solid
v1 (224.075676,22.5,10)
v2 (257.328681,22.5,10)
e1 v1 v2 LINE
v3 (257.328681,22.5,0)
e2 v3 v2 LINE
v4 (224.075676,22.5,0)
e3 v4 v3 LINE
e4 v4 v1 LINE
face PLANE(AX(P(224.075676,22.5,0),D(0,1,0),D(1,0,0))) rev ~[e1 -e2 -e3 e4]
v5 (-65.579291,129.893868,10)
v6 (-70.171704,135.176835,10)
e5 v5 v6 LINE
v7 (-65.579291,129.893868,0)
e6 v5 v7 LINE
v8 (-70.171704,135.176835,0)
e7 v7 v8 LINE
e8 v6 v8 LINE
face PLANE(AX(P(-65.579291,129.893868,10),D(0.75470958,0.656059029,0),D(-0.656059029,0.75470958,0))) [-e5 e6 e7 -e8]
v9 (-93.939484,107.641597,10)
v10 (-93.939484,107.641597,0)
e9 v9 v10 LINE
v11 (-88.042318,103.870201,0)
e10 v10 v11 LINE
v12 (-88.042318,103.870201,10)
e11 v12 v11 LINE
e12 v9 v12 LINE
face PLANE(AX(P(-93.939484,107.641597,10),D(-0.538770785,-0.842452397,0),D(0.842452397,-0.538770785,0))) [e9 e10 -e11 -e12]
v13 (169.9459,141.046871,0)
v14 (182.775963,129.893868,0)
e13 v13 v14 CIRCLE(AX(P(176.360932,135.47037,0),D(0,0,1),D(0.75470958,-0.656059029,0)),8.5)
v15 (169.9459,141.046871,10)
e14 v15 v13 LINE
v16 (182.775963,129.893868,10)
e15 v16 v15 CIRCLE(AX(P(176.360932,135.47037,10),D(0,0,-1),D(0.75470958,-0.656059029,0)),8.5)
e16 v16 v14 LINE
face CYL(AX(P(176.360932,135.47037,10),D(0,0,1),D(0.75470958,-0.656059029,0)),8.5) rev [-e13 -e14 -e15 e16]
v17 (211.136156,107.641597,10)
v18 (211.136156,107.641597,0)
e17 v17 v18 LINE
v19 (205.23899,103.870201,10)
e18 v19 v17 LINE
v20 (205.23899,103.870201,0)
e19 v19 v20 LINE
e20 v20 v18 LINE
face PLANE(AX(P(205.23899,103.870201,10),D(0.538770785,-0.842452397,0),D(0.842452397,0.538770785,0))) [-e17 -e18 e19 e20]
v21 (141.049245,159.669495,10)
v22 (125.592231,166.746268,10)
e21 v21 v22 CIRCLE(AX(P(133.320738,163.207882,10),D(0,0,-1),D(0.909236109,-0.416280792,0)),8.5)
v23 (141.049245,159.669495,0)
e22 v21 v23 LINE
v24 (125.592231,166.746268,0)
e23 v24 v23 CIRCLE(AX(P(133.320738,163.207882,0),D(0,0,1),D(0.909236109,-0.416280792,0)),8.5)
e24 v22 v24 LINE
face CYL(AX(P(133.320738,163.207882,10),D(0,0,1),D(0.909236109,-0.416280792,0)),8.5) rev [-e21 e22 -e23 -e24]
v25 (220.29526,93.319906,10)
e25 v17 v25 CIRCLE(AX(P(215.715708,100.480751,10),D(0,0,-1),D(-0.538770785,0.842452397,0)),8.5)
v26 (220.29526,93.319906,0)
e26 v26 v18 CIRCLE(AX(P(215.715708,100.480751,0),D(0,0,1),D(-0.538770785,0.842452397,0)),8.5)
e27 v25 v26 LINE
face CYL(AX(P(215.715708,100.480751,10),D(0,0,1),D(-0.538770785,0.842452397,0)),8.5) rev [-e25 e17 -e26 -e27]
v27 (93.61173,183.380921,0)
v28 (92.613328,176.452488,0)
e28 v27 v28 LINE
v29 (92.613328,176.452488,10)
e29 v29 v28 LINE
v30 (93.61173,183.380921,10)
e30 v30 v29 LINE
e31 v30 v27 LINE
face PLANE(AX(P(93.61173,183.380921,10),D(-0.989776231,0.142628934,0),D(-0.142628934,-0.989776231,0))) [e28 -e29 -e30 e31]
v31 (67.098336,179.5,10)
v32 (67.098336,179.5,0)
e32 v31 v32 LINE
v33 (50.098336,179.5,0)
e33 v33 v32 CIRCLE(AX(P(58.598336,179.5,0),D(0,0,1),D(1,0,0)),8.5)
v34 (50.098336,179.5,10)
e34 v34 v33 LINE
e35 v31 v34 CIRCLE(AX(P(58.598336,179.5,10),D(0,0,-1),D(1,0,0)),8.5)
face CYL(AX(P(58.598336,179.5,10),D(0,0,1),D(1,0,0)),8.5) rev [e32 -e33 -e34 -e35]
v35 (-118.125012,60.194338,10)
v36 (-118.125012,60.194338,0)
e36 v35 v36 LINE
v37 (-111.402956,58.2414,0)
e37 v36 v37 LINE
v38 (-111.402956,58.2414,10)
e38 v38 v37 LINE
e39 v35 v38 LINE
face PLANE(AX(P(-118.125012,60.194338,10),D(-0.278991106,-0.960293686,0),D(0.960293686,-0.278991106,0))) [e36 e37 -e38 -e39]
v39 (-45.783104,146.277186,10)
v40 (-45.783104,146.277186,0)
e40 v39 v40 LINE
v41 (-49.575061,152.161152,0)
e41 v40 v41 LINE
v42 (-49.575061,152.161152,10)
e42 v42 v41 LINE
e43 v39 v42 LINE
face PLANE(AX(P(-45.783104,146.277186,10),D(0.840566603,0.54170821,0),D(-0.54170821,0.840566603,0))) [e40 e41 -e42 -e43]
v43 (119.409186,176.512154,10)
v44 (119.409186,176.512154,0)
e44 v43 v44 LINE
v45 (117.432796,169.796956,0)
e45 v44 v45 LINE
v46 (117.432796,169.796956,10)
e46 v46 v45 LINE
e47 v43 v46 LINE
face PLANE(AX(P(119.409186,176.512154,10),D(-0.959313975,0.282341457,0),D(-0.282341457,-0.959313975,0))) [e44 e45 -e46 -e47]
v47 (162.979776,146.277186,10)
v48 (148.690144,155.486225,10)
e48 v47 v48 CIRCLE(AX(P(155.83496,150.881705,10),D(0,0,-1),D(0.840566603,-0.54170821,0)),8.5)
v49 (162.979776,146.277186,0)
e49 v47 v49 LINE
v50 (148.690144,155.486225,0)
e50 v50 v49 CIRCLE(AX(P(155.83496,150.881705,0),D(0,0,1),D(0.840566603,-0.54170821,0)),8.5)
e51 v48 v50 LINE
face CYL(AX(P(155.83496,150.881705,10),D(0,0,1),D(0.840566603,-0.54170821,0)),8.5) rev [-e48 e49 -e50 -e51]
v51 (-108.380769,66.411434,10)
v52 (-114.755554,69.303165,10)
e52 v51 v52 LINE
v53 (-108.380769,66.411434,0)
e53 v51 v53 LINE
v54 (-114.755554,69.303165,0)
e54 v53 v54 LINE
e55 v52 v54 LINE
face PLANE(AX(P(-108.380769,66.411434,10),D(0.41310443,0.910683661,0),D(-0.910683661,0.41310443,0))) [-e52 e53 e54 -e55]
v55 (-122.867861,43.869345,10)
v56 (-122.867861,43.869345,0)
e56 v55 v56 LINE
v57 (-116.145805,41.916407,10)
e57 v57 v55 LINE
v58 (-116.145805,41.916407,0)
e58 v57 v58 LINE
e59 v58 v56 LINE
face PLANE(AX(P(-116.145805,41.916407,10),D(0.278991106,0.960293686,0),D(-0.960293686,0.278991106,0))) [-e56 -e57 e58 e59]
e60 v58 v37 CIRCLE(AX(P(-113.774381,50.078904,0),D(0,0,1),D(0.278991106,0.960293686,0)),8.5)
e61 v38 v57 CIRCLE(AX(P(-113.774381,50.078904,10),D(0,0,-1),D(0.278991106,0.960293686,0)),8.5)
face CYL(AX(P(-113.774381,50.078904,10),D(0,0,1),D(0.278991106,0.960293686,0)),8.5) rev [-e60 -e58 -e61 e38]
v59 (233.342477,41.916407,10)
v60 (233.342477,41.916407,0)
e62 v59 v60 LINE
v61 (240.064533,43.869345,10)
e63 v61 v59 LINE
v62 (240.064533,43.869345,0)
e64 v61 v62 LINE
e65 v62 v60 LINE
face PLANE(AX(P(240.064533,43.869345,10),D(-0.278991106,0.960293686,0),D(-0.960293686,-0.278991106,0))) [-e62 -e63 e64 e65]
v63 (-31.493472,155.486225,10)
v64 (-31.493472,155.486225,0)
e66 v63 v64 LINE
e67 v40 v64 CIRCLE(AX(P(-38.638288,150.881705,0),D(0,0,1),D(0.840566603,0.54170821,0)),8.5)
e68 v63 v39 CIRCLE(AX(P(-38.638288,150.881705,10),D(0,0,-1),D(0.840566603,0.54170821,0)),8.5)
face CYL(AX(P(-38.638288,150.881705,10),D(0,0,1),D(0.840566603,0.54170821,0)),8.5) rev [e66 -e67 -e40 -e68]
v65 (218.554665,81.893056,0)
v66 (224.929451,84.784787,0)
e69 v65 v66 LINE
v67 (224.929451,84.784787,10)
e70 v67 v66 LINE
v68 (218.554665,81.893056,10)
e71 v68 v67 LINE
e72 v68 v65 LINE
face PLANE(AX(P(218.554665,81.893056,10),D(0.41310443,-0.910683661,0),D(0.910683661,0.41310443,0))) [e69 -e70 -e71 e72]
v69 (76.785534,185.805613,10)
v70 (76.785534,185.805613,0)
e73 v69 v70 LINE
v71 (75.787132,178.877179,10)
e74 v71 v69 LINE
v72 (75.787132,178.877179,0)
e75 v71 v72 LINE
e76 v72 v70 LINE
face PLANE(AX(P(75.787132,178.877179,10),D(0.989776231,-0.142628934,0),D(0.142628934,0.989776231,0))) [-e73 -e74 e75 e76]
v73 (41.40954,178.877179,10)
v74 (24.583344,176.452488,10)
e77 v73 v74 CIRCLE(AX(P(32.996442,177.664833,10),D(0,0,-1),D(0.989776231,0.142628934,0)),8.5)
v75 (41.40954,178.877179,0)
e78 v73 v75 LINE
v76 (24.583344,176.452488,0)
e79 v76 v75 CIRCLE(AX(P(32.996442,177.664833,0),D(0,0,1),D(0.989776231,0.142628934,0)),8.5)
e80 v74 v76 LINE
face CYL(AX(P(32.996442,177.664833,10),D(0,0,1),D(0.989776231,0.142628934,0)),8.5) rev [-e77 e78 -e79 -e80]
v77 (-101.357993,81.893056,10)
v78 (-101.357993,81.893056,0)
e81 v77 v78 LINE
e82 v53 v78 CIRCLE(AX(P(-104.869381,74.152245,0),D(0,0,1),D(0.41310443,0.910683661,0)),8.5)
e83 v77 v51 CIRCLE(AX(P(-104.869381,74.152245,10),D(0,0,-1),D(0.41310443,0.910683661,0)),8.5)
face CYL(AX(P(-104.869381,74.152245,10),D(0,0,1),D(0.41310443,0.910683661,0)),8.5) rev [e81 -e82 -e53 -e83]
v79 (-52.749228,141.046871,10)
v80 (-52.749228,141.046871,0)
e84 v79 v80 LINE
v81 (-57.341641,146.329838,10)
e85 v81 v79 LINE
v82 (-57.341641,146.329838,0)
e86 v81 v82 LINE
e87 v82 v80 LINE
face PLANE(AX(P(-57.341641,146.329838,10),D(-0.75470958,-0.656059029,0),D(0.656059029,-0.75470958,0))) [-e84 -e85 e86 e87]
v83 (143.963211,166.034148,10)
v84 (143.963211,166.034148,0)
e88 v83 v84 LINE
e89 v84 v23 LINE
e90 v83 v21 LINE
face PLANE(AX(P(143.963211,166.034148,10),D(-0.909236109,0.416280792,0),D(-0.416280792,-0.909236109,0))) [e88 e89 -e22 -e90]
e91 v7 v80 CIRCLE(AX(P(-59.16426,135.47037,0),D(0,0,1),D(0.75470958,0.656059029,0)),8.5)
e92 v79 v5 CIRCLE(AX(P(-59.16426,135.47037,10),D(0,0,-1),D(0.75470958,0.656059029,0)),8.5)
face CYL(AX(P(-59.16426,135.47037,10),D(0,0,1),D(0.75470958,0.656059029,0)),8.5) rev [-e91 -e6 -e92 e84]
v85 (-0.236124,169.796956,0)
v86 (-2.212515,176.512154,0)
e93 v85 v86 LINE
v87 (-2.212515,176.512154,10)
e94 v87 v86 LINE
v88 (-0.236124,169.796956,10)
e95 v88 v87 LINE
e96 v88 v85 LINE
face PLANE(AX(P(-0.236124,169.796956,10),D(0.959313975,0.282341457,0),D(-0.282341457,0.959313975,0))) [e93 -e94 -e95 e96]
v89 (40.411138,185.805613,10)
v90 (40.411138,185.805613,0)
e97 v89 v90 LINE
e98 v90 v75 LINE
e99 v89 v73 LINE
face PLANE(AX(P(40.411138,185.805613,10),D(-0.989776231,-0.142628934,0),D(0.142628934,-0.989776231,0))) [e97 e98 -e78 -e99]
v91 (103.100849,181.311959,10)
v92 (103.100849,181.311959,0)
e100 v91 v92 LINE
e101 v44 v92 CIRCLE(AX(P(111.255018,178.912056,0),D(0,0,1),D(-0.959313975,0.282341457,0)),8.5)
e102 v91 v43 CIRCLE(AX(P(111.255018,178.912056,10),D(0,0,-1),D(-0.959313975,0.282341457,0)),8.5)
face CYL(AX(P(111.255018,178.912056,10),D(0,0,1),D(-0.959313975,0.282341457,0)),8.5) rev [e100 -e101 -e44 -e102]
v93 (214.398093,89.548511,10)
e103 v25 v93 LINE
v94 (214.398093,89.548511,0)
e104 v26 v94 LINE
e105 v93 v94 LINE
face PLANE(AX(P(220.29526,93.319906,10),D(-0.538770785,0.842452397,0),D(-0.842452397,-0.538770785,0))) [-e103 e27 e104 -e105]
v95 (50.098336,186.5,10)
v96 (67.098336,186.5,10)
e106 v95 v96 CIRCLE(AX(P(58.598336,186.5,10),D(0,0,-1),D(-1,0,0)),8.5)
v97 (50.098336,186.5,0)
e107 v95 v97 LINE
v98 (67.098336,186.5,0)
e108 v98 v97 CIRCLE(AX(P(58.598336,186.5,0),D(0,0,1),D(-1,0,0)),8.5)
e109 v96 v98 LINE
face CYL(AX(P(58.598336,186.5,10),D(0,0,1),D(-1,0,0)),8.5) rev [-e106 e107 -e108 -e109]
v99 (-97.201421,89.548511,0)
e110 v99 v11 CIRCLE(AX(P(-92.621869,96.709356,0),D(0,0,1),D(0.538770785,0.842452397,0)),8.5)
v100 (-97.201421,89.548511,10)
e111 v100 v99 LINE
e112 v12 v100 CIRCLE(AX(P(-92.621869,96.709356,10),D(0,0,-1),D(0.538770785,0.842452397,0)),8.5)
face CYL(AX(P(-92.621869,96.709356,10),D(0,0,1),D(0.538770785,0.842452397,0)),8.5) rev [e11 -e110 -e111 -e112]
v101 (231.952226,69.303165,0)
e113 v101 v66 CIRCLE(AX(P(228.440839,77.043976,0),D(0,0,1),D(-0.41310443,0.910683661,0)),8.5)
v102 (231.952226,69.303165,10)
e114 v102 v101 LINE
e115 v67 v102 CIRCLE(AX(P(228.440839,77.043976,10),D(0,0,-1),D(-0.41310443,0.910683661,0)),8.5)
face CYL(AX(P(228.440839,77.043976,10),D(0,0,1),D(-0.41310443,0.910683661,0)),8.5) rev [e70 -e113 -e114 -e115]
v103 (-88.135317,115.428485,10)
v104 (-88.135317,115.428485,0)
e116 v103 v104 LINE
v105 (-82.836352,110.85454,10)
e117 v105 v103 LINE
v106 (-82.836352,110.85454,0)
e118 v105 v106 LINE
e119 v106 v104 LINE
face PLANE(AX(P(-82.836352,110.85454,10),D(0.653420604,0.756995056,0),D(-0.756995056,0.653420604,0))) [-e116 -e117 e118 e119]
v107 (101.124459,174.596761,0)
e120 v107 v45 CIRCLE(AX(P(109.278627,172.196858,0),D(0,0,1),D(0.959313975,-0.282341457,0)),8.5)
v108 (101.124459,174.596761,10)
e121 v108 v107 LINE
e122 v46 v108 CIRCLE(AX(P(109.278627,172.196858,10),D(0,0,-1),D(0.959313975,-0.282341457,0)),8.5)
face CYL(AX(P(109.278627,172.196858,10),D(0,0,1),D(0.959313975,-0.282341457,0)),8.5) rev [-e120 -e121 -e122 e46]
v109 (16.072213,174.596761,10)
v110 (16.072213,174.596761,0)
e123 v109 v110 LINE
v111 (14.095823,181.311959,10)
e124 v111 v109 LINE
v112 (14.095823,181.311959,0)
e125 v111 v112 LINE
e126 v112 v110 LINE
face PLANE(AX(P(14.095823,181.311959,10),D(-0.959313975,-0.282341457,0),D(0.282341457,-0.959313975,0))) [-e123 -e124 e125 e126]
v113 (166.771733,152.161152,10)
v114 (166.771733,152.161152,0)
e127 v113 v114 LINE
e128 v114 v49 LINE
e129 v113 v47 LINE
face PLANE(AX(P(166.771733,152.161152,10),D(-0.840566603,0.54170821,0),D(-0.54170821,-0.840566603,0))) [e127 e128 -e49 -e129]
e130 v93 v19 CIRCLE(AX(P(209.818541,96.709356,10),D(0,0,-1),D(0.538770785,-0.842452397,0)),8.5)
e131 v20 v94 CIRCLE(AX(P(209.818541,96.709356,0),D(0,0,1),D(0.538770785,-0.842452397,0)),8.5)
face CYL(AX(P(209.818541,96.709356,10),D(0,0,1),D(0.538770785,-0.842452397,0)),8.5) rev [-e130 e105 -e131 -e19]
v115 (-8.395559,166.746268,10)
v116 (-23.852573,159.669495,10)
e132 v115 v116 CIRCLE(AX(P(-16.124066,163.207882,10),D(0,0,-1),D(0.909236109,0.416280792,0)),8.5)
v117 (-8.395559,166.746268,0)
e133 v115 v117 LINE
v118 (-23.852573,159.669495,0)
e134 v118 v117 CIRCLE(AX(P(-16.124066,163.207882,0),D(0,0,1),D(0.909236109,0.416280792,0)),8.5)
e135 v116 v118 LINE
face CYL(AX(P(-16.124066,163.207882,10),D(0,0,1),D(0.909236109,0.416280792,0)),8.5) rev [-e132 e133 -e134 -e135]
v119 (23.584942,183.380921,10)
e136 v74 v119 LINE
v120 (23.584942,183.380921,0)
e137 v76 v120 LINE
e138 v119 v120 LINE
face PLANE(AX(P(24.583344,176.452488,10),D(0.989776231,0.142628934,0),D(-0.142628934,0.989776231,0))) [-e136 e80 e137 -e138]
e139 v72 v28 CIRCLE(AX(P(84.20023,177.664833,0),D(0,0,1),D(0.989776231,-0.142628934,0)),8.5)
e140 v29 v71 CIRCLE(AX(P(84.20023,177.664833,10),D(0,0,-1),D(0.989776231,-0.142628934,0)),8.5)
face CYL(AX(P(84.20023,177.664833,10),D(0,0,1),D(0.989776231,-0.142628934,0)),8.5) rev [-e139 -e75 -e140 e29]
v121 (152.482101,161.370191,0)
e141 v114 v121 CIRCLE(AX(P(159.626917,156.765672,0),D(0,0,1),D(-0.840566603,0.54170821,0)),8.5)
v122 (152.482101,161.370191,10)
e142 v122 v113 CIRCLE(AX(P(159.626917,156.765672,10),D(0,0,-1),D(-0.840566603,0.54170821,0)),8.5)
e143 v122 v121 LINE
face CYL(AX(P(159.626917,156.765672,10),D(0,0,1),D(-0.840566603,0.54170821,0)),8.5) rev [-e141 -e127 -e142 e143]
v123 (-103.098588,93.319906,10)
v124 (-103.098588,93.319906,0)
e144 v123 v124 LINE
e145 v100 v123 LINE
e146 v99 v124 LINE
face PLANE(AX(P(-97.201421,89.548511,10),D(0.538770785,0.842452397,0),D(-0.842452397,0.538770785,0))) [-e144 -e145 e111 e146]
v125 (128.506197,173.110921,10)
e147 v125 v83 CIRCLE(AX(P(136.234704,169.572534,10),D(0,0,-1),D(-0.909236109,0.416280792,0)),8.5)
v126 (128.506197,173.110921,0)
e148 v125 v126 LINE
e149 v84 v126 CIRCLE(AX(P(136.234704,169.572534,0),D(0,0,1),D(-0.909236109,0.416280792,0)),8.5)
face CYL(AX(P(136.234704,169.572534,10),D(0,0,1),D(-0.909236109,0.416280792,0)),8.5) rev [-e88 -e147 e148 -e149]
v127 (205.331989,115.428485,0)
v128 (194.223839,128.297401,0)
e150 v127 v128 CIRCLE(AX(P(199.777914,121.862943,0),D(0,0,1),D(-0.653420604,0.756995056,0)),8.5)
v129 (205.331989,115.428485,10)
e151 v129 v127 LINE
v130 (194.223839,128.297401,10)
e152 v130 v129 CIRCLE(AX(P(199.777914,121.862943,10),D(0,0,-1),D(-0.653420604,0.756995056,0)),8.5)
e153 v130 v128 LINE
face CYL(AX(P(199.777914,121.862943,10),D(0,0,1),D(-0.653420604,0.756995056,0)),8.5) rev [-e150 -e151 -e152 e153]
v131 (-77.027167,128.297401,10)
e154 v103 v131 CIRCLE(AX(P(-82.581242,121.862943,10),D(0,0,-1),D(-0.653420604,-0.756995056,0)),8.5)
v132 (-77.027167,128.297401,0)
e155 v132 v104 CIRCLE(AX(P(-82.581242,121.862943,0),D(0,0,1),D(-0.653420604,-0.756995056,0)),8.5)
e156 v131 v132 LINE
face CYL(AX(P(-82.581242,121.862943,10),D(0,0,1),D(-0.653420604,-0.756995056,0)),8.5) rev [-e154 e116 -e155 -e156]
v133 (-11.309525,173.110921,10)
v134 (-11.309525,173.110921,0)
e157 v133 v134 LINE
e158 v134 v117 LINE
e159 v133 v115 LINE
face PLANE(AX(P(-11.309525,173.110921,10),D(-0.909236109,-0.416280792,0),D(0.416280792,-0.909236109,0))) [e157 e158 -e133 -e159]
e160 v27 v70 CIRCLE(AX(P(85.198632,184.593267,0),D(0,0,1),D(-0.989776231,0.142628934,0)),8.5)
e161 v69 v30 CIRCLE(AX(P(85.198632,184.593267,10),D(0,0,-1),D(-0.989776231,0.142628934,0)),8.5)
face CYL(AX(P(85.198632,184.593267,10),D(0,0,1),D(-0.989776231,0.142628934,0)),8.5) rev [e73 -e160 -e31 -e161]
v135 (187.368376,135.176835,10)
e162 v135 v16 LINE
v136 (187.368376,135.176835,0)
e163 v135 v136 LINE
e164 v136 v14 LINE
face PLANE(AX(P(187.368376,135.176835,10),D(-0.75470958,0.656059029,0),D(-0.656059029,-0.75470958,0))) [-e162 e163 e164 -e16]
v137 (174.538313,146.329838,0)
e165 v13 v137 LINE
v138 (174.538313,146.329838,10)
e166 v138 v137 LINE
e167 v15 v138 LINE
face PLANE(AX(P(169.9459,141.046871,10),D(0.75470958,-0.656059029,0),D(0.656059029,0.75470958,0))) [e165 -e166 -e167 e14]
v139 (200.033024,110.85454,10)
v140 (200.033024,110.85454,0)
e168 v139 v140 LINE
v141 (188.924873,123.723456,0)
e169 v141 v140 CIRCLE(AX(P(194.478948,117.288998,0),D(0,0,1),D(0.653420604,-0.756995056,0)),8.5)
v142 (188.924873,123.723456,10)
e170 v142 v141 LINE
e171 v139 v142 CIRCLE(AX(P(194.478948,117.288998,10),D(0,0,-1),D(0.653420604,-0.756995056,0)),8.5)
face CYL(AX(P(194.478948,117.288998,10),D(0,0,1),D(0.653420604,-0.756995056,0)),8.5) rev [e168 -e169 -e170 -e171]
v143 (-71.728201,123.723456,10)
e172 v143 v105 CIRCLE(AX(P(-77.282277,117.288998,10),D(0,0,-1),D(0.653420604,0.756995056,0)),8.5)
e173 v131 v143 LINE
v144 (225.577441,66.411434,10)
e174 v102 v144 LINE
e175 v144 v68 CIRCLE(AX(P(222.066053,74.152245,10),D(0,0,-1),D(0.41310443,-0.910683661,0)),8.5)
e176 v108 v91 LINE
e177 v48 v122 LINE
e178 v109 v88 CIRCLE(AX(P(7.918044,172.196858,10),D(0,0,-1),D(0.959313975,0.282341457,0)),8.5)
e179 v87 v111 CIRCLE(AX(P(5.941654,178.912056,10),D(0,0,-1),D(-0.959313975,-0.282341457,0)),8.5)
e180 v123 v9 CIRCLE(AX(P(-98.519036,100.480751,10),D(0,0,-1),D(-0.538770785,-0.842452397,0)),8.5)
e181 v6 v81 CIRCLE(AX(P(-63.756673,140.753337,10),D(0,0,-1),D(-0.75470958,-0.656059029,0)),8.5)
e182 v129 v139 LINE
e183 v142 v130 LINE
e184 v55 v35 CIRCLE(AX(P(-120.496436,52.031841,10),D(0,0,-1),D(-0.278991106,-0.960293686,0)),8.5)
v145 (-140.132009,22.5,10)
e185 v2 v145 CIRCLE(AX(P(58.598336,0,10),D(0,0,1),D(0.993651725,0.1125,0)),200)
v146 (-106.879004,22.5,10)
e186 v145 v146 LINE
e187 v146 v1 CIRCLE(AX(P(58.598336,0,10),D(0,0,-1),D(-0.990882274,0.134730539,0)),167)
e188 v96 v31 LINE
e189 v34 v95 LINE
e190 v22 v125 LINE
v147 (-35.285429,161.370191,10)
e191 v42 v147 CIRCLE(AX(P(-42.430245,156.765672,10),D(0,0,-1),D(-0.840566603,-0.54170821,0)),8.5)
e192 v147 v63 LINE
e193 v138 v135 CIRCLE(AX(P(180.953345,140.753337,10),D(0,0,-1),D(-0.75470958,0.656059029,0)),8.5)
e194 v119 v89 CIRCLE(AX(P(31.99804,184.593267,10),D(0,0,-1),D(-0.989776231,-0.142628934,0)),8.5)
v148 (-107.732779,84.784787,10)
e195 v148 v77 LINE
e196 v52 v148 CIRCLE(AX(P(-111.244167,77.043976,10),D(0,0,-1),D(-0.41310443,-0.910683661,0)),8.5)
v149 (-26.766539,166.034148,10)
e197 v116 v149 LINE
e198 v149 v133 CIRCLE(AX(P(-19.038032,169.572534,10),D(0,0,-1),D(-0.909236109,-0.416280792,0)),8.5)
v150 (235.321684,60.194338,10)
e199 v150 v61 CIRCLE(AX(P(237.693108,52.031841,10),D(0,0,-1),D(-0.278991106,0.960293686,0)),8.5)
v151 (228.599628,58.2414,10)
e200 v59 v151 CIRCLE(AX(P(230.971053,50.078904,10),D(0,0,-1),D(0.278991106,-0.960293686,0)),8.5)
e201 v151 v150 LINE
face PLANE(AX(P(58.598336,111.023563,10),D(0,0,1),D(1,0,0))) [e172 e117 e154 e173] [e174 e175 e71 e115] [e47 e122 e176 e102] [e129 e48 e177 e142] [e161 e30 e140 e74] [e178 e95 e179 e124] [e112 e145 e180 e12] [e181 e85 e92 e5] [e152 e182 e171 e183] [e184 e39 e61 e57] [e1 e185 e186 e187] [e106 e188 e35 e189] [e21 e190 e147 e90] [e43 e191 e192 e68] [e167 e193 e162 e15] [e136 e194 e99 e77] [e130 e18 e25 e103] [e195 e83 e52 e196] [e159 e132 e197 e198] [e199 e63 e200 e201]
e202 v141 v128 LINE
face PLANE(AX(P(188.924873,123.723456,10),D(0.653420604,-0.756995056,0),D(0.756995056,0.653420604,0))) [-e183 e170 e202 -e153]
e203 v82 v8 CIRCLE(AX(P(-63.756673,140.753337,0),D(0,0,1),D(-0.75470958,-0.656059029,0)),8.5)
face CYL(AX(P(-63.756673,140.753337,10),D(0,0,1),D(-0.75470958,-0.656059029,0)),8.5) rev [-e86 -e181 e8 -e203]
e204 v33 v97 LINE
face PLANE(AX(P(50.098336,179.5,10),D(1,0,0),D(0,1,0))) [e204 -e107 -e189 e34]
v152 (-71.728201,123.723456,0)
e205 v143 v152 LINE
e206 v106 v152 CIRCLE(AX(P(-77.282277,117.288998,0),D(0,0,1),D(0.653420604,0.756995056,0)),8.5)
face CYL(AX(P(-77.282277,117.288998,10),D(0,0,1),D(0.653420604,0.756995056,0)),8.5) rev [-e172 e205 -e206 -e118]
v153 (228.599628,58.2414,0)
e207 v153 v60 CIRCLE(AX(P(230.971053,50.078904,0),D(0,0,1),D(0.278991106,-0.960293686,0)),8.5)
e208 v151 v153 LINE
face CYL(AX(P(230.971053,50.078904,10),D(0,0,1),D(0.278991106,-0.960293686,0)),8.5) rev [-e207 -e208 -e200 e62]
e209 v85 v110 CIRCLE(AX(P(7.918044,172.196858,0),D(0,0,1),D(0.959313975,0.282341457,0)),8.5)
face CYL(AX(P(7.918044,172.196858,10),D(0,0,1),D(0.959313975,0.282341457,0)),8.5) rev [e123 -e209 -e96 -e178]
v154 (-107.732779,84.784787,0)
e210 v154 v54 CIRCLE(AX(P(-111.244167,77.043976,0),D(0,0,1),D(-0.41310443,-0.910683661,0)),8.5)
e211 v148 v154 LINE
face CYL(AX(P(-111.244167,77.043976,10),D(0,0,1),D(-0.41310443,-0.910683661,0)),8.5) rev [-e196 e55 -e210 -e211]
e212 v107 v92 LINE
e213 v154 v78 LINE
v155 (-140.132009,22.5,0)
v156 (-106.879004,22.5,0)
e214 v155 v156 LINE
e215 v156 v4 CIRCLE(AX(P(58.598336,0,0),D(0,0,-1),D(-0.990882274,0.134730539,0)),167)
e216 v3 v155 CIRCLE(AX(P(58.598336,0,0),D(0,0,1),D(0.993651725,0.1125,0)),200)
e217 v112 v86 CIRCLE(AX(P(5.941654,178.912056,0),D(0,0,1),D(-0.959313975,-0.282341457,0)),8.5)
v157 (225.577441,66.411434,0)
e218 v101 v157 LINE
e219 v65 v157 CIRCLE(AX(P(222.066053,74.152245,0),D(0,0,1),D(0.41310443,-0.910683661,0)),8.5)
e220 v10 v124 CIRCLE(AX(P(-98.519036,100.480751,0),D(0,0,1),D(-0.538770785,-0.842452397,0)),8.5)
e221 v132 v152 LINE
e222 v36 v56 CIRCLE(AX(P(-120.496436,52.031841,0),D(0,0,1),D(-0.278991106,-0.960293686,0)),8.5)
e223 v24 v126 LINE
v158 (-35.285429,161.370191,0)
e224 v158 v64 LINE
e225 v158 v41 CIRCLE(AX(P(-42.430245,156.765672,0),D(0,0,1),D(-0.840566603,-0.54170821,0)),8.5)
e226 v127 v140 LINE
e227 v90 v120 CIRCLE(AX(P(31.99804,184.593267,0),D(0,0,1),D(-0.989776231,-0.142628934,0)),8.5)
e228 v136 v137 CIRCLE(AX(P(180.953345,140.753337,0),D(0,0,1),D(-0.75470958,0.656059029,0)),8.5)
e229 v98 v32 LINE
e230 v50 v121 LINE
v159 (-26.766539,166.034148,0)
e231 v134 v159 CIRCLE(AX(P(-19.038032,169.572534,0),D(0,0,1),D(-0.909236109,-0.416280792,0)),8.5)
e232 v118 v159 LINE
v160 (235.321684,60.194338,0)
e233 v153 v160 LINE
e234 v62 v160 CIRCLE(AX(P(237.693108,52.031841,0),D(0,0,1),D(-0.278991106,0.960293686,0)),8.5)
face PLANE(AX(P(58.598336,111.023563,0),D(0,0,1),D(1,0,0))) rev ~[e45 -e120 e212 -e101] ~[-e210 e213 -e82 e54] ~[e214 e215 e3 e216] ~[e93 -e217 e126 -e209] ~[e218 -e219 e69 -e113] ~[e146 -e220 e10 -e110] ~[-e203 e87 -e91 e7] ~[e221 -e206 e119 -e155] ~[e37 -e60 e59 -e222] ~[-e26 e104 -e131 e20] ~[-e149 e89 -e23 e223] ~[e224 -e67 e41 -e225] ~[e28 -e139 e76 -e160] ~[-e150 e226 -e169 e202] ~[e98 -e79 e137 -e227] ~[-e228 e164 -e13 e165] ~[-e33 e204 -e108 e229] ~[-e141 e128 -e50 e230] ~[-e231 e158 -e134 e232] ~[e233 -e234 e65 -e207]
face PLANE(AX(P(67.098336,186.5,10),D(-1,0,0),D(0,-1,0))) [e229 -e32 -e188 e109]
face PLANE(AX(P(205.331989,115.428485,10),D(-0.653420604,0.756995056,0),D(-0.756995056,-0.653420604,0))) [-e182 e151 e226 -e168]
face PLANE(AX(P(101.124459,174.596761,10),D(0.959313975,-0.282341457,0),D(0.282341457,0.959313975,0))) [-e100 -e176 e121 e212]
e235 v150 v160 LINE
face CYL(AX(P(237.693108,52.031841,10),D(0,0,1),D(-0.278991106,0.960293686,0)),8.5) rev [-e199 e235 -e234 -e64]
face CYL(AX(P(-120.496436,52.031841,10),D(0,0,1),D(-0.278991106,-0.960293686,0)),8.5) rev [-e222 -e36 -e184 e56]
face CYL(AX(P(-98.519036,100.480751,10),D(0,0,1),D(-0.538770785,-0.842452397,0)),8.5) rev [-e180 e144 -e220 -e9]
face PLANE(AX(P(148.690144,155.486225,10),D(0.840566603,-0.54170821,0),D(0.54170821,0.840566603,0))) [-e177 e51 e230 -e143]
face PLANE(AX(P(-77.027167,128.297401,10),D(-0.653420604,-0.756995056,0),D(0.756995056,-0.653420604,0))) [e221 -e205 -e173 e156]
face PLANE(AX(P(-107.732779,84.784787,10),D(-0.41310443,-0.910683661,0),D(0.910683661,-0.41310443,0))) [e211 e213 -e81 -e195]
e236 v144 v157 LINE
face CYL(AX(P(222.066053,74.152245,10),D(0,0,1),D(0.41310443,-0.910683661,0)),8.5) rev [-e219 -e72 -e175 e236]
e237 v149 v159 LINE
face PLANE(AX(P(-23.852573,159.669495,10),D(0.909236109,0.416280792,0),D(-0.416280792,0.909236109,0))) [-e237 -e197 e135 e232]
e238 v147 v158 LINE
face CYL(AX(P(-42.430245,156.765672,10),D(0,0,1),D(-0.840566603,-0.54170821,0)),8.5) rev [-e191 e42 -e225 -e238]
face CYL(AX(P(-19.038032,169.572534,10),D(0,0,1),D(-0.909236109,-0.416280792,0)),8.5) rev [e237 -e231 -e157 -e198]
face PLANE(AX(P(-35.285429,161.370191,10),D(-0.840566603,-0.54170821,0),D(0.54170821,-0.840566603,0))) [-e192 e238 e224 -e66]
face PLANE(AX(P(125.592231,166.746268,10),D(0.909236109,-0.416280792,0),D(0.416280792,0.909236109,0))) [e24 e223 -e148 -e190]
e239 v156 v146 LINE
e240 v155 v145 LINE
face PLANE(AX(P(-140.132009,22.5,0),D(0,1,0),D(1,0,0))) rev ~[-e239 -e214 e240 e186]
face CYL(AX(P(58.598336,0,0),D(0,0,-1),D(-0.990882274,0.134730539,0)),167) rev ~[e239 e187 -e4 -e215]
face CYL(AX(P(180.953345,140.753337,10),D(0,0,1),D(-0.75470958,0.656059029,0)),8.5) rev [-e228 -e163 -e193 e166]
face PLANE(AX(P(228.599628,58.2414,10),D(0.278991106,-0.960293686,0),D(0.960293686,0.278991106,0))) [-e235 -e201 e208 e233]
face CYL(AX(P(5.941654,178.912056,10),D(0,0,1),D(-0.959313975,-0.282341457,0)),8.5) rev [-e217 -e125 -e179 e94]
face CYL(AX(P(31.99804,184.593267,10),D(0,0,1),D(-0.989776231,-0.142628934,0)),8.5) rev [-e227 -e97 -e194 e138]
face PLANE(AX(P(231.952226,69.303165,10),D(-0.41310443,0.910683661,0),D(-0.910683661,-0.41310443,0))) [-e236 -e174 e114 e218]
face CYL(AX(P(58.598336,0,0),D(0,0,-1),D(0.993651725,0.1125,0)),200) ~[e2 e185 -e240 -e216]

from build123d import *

# Parameters (mm, degrees)
BOSS_EXTRU_1_DEPTH           = 10
ENL_V_MAT_EXTRU_1_DEPTH      = 11
R_P_TITION_CIRCULAIRE1_COUNT = 10
R_P_TITION_CIRCULAIRE1_ANGLE = 73.8
R_P_TITION_CIRCULAIRE2_COUNT = 10
R_P_TITION_CIRCULAIRE2_ANGLE = 73.8


with BuildPart() as part:
    # Esquisse1 → Boss.-Extru.1 (new body)
    with BuildSketch(Plane.XY):
        with BuildLine():
            Line((-140.132008959, 22.5), (-106.879003857, 22.5))
            ThreePointArc((-106.879003857, 22.5), (58.598335981, 167), (224.07567582, 22.5))
            Line((224.07567582, 22.5), (257.328680921, 22.5))
            ThreePointArc((257.328680921, 22.5), (58.598335981, 200), (-140.132008959, 22.5))
        make_face()
    extrude(amount=BOSS_EXTRU_1_DEPTH)

    # Esquisse2 → Enlèv. mat.-Extru.1 (cut, through all)
    with BuildSketch(Plane.XY.offset(10)):
        with BuildLine():
            Line((50.098335981, 179.5), (50.098335981, 186.5))
            ThreePointArc((50.098335981, 186.5), (58.598335981, 195), (67.098335981, 186.5))
            Line((67.098335981, 186.5), (67.098335981, 179.5))
            ThreePointArc((67.098335981, 179.5), (58.598335981, 171), (50.098335981, 179.5))
        make_face()
    enl_v_mat_extru_1 = extrude(amount=-ENL_V_MAT_EXTRU_1_DEPTH, mode=Mode.SUBTRACT)

    # Répétition circulaire1: Enlèv. mat.-Extru.1 ×10 about axis
    r_p_tition_circulaire1_axis = Axis((58.598335981, 0, 0), (0, 0, -1))
    for i in range(1, R_P_TITION_CIRCULAIRE1_COUNT):
        add(enl_v_mat_extru_1.rotate(r_p_tition_circulaire1_axis, i * R_P_TITION_CIRCULAIRE1_ANGLE / (R_P_TITION_CIRCULAIRE1_COUNT - 1)), mode=Mode.SUBTRACT)

    # Répétition circulaire2: Enlèv. mat.-Extru.1 ×10 about axis
    r_p_tition_circulaire2_axis = Axis((58.598335981, 0, 0), (0, 0, 1))
    for i in range(1, R_P_TITION_CIRCULAIRE2_COUNT):
        add(enl_v_mat_extru_1.rotate(r_p_tition_circulaire2_axis, i * R_P_TITION_CIRCULAIRE2_ANGLE / (R_P_TITION_CIRCULAIRE2_COUNT - 1)), mode=Mode.SUBTRACT)


solid = part.part
